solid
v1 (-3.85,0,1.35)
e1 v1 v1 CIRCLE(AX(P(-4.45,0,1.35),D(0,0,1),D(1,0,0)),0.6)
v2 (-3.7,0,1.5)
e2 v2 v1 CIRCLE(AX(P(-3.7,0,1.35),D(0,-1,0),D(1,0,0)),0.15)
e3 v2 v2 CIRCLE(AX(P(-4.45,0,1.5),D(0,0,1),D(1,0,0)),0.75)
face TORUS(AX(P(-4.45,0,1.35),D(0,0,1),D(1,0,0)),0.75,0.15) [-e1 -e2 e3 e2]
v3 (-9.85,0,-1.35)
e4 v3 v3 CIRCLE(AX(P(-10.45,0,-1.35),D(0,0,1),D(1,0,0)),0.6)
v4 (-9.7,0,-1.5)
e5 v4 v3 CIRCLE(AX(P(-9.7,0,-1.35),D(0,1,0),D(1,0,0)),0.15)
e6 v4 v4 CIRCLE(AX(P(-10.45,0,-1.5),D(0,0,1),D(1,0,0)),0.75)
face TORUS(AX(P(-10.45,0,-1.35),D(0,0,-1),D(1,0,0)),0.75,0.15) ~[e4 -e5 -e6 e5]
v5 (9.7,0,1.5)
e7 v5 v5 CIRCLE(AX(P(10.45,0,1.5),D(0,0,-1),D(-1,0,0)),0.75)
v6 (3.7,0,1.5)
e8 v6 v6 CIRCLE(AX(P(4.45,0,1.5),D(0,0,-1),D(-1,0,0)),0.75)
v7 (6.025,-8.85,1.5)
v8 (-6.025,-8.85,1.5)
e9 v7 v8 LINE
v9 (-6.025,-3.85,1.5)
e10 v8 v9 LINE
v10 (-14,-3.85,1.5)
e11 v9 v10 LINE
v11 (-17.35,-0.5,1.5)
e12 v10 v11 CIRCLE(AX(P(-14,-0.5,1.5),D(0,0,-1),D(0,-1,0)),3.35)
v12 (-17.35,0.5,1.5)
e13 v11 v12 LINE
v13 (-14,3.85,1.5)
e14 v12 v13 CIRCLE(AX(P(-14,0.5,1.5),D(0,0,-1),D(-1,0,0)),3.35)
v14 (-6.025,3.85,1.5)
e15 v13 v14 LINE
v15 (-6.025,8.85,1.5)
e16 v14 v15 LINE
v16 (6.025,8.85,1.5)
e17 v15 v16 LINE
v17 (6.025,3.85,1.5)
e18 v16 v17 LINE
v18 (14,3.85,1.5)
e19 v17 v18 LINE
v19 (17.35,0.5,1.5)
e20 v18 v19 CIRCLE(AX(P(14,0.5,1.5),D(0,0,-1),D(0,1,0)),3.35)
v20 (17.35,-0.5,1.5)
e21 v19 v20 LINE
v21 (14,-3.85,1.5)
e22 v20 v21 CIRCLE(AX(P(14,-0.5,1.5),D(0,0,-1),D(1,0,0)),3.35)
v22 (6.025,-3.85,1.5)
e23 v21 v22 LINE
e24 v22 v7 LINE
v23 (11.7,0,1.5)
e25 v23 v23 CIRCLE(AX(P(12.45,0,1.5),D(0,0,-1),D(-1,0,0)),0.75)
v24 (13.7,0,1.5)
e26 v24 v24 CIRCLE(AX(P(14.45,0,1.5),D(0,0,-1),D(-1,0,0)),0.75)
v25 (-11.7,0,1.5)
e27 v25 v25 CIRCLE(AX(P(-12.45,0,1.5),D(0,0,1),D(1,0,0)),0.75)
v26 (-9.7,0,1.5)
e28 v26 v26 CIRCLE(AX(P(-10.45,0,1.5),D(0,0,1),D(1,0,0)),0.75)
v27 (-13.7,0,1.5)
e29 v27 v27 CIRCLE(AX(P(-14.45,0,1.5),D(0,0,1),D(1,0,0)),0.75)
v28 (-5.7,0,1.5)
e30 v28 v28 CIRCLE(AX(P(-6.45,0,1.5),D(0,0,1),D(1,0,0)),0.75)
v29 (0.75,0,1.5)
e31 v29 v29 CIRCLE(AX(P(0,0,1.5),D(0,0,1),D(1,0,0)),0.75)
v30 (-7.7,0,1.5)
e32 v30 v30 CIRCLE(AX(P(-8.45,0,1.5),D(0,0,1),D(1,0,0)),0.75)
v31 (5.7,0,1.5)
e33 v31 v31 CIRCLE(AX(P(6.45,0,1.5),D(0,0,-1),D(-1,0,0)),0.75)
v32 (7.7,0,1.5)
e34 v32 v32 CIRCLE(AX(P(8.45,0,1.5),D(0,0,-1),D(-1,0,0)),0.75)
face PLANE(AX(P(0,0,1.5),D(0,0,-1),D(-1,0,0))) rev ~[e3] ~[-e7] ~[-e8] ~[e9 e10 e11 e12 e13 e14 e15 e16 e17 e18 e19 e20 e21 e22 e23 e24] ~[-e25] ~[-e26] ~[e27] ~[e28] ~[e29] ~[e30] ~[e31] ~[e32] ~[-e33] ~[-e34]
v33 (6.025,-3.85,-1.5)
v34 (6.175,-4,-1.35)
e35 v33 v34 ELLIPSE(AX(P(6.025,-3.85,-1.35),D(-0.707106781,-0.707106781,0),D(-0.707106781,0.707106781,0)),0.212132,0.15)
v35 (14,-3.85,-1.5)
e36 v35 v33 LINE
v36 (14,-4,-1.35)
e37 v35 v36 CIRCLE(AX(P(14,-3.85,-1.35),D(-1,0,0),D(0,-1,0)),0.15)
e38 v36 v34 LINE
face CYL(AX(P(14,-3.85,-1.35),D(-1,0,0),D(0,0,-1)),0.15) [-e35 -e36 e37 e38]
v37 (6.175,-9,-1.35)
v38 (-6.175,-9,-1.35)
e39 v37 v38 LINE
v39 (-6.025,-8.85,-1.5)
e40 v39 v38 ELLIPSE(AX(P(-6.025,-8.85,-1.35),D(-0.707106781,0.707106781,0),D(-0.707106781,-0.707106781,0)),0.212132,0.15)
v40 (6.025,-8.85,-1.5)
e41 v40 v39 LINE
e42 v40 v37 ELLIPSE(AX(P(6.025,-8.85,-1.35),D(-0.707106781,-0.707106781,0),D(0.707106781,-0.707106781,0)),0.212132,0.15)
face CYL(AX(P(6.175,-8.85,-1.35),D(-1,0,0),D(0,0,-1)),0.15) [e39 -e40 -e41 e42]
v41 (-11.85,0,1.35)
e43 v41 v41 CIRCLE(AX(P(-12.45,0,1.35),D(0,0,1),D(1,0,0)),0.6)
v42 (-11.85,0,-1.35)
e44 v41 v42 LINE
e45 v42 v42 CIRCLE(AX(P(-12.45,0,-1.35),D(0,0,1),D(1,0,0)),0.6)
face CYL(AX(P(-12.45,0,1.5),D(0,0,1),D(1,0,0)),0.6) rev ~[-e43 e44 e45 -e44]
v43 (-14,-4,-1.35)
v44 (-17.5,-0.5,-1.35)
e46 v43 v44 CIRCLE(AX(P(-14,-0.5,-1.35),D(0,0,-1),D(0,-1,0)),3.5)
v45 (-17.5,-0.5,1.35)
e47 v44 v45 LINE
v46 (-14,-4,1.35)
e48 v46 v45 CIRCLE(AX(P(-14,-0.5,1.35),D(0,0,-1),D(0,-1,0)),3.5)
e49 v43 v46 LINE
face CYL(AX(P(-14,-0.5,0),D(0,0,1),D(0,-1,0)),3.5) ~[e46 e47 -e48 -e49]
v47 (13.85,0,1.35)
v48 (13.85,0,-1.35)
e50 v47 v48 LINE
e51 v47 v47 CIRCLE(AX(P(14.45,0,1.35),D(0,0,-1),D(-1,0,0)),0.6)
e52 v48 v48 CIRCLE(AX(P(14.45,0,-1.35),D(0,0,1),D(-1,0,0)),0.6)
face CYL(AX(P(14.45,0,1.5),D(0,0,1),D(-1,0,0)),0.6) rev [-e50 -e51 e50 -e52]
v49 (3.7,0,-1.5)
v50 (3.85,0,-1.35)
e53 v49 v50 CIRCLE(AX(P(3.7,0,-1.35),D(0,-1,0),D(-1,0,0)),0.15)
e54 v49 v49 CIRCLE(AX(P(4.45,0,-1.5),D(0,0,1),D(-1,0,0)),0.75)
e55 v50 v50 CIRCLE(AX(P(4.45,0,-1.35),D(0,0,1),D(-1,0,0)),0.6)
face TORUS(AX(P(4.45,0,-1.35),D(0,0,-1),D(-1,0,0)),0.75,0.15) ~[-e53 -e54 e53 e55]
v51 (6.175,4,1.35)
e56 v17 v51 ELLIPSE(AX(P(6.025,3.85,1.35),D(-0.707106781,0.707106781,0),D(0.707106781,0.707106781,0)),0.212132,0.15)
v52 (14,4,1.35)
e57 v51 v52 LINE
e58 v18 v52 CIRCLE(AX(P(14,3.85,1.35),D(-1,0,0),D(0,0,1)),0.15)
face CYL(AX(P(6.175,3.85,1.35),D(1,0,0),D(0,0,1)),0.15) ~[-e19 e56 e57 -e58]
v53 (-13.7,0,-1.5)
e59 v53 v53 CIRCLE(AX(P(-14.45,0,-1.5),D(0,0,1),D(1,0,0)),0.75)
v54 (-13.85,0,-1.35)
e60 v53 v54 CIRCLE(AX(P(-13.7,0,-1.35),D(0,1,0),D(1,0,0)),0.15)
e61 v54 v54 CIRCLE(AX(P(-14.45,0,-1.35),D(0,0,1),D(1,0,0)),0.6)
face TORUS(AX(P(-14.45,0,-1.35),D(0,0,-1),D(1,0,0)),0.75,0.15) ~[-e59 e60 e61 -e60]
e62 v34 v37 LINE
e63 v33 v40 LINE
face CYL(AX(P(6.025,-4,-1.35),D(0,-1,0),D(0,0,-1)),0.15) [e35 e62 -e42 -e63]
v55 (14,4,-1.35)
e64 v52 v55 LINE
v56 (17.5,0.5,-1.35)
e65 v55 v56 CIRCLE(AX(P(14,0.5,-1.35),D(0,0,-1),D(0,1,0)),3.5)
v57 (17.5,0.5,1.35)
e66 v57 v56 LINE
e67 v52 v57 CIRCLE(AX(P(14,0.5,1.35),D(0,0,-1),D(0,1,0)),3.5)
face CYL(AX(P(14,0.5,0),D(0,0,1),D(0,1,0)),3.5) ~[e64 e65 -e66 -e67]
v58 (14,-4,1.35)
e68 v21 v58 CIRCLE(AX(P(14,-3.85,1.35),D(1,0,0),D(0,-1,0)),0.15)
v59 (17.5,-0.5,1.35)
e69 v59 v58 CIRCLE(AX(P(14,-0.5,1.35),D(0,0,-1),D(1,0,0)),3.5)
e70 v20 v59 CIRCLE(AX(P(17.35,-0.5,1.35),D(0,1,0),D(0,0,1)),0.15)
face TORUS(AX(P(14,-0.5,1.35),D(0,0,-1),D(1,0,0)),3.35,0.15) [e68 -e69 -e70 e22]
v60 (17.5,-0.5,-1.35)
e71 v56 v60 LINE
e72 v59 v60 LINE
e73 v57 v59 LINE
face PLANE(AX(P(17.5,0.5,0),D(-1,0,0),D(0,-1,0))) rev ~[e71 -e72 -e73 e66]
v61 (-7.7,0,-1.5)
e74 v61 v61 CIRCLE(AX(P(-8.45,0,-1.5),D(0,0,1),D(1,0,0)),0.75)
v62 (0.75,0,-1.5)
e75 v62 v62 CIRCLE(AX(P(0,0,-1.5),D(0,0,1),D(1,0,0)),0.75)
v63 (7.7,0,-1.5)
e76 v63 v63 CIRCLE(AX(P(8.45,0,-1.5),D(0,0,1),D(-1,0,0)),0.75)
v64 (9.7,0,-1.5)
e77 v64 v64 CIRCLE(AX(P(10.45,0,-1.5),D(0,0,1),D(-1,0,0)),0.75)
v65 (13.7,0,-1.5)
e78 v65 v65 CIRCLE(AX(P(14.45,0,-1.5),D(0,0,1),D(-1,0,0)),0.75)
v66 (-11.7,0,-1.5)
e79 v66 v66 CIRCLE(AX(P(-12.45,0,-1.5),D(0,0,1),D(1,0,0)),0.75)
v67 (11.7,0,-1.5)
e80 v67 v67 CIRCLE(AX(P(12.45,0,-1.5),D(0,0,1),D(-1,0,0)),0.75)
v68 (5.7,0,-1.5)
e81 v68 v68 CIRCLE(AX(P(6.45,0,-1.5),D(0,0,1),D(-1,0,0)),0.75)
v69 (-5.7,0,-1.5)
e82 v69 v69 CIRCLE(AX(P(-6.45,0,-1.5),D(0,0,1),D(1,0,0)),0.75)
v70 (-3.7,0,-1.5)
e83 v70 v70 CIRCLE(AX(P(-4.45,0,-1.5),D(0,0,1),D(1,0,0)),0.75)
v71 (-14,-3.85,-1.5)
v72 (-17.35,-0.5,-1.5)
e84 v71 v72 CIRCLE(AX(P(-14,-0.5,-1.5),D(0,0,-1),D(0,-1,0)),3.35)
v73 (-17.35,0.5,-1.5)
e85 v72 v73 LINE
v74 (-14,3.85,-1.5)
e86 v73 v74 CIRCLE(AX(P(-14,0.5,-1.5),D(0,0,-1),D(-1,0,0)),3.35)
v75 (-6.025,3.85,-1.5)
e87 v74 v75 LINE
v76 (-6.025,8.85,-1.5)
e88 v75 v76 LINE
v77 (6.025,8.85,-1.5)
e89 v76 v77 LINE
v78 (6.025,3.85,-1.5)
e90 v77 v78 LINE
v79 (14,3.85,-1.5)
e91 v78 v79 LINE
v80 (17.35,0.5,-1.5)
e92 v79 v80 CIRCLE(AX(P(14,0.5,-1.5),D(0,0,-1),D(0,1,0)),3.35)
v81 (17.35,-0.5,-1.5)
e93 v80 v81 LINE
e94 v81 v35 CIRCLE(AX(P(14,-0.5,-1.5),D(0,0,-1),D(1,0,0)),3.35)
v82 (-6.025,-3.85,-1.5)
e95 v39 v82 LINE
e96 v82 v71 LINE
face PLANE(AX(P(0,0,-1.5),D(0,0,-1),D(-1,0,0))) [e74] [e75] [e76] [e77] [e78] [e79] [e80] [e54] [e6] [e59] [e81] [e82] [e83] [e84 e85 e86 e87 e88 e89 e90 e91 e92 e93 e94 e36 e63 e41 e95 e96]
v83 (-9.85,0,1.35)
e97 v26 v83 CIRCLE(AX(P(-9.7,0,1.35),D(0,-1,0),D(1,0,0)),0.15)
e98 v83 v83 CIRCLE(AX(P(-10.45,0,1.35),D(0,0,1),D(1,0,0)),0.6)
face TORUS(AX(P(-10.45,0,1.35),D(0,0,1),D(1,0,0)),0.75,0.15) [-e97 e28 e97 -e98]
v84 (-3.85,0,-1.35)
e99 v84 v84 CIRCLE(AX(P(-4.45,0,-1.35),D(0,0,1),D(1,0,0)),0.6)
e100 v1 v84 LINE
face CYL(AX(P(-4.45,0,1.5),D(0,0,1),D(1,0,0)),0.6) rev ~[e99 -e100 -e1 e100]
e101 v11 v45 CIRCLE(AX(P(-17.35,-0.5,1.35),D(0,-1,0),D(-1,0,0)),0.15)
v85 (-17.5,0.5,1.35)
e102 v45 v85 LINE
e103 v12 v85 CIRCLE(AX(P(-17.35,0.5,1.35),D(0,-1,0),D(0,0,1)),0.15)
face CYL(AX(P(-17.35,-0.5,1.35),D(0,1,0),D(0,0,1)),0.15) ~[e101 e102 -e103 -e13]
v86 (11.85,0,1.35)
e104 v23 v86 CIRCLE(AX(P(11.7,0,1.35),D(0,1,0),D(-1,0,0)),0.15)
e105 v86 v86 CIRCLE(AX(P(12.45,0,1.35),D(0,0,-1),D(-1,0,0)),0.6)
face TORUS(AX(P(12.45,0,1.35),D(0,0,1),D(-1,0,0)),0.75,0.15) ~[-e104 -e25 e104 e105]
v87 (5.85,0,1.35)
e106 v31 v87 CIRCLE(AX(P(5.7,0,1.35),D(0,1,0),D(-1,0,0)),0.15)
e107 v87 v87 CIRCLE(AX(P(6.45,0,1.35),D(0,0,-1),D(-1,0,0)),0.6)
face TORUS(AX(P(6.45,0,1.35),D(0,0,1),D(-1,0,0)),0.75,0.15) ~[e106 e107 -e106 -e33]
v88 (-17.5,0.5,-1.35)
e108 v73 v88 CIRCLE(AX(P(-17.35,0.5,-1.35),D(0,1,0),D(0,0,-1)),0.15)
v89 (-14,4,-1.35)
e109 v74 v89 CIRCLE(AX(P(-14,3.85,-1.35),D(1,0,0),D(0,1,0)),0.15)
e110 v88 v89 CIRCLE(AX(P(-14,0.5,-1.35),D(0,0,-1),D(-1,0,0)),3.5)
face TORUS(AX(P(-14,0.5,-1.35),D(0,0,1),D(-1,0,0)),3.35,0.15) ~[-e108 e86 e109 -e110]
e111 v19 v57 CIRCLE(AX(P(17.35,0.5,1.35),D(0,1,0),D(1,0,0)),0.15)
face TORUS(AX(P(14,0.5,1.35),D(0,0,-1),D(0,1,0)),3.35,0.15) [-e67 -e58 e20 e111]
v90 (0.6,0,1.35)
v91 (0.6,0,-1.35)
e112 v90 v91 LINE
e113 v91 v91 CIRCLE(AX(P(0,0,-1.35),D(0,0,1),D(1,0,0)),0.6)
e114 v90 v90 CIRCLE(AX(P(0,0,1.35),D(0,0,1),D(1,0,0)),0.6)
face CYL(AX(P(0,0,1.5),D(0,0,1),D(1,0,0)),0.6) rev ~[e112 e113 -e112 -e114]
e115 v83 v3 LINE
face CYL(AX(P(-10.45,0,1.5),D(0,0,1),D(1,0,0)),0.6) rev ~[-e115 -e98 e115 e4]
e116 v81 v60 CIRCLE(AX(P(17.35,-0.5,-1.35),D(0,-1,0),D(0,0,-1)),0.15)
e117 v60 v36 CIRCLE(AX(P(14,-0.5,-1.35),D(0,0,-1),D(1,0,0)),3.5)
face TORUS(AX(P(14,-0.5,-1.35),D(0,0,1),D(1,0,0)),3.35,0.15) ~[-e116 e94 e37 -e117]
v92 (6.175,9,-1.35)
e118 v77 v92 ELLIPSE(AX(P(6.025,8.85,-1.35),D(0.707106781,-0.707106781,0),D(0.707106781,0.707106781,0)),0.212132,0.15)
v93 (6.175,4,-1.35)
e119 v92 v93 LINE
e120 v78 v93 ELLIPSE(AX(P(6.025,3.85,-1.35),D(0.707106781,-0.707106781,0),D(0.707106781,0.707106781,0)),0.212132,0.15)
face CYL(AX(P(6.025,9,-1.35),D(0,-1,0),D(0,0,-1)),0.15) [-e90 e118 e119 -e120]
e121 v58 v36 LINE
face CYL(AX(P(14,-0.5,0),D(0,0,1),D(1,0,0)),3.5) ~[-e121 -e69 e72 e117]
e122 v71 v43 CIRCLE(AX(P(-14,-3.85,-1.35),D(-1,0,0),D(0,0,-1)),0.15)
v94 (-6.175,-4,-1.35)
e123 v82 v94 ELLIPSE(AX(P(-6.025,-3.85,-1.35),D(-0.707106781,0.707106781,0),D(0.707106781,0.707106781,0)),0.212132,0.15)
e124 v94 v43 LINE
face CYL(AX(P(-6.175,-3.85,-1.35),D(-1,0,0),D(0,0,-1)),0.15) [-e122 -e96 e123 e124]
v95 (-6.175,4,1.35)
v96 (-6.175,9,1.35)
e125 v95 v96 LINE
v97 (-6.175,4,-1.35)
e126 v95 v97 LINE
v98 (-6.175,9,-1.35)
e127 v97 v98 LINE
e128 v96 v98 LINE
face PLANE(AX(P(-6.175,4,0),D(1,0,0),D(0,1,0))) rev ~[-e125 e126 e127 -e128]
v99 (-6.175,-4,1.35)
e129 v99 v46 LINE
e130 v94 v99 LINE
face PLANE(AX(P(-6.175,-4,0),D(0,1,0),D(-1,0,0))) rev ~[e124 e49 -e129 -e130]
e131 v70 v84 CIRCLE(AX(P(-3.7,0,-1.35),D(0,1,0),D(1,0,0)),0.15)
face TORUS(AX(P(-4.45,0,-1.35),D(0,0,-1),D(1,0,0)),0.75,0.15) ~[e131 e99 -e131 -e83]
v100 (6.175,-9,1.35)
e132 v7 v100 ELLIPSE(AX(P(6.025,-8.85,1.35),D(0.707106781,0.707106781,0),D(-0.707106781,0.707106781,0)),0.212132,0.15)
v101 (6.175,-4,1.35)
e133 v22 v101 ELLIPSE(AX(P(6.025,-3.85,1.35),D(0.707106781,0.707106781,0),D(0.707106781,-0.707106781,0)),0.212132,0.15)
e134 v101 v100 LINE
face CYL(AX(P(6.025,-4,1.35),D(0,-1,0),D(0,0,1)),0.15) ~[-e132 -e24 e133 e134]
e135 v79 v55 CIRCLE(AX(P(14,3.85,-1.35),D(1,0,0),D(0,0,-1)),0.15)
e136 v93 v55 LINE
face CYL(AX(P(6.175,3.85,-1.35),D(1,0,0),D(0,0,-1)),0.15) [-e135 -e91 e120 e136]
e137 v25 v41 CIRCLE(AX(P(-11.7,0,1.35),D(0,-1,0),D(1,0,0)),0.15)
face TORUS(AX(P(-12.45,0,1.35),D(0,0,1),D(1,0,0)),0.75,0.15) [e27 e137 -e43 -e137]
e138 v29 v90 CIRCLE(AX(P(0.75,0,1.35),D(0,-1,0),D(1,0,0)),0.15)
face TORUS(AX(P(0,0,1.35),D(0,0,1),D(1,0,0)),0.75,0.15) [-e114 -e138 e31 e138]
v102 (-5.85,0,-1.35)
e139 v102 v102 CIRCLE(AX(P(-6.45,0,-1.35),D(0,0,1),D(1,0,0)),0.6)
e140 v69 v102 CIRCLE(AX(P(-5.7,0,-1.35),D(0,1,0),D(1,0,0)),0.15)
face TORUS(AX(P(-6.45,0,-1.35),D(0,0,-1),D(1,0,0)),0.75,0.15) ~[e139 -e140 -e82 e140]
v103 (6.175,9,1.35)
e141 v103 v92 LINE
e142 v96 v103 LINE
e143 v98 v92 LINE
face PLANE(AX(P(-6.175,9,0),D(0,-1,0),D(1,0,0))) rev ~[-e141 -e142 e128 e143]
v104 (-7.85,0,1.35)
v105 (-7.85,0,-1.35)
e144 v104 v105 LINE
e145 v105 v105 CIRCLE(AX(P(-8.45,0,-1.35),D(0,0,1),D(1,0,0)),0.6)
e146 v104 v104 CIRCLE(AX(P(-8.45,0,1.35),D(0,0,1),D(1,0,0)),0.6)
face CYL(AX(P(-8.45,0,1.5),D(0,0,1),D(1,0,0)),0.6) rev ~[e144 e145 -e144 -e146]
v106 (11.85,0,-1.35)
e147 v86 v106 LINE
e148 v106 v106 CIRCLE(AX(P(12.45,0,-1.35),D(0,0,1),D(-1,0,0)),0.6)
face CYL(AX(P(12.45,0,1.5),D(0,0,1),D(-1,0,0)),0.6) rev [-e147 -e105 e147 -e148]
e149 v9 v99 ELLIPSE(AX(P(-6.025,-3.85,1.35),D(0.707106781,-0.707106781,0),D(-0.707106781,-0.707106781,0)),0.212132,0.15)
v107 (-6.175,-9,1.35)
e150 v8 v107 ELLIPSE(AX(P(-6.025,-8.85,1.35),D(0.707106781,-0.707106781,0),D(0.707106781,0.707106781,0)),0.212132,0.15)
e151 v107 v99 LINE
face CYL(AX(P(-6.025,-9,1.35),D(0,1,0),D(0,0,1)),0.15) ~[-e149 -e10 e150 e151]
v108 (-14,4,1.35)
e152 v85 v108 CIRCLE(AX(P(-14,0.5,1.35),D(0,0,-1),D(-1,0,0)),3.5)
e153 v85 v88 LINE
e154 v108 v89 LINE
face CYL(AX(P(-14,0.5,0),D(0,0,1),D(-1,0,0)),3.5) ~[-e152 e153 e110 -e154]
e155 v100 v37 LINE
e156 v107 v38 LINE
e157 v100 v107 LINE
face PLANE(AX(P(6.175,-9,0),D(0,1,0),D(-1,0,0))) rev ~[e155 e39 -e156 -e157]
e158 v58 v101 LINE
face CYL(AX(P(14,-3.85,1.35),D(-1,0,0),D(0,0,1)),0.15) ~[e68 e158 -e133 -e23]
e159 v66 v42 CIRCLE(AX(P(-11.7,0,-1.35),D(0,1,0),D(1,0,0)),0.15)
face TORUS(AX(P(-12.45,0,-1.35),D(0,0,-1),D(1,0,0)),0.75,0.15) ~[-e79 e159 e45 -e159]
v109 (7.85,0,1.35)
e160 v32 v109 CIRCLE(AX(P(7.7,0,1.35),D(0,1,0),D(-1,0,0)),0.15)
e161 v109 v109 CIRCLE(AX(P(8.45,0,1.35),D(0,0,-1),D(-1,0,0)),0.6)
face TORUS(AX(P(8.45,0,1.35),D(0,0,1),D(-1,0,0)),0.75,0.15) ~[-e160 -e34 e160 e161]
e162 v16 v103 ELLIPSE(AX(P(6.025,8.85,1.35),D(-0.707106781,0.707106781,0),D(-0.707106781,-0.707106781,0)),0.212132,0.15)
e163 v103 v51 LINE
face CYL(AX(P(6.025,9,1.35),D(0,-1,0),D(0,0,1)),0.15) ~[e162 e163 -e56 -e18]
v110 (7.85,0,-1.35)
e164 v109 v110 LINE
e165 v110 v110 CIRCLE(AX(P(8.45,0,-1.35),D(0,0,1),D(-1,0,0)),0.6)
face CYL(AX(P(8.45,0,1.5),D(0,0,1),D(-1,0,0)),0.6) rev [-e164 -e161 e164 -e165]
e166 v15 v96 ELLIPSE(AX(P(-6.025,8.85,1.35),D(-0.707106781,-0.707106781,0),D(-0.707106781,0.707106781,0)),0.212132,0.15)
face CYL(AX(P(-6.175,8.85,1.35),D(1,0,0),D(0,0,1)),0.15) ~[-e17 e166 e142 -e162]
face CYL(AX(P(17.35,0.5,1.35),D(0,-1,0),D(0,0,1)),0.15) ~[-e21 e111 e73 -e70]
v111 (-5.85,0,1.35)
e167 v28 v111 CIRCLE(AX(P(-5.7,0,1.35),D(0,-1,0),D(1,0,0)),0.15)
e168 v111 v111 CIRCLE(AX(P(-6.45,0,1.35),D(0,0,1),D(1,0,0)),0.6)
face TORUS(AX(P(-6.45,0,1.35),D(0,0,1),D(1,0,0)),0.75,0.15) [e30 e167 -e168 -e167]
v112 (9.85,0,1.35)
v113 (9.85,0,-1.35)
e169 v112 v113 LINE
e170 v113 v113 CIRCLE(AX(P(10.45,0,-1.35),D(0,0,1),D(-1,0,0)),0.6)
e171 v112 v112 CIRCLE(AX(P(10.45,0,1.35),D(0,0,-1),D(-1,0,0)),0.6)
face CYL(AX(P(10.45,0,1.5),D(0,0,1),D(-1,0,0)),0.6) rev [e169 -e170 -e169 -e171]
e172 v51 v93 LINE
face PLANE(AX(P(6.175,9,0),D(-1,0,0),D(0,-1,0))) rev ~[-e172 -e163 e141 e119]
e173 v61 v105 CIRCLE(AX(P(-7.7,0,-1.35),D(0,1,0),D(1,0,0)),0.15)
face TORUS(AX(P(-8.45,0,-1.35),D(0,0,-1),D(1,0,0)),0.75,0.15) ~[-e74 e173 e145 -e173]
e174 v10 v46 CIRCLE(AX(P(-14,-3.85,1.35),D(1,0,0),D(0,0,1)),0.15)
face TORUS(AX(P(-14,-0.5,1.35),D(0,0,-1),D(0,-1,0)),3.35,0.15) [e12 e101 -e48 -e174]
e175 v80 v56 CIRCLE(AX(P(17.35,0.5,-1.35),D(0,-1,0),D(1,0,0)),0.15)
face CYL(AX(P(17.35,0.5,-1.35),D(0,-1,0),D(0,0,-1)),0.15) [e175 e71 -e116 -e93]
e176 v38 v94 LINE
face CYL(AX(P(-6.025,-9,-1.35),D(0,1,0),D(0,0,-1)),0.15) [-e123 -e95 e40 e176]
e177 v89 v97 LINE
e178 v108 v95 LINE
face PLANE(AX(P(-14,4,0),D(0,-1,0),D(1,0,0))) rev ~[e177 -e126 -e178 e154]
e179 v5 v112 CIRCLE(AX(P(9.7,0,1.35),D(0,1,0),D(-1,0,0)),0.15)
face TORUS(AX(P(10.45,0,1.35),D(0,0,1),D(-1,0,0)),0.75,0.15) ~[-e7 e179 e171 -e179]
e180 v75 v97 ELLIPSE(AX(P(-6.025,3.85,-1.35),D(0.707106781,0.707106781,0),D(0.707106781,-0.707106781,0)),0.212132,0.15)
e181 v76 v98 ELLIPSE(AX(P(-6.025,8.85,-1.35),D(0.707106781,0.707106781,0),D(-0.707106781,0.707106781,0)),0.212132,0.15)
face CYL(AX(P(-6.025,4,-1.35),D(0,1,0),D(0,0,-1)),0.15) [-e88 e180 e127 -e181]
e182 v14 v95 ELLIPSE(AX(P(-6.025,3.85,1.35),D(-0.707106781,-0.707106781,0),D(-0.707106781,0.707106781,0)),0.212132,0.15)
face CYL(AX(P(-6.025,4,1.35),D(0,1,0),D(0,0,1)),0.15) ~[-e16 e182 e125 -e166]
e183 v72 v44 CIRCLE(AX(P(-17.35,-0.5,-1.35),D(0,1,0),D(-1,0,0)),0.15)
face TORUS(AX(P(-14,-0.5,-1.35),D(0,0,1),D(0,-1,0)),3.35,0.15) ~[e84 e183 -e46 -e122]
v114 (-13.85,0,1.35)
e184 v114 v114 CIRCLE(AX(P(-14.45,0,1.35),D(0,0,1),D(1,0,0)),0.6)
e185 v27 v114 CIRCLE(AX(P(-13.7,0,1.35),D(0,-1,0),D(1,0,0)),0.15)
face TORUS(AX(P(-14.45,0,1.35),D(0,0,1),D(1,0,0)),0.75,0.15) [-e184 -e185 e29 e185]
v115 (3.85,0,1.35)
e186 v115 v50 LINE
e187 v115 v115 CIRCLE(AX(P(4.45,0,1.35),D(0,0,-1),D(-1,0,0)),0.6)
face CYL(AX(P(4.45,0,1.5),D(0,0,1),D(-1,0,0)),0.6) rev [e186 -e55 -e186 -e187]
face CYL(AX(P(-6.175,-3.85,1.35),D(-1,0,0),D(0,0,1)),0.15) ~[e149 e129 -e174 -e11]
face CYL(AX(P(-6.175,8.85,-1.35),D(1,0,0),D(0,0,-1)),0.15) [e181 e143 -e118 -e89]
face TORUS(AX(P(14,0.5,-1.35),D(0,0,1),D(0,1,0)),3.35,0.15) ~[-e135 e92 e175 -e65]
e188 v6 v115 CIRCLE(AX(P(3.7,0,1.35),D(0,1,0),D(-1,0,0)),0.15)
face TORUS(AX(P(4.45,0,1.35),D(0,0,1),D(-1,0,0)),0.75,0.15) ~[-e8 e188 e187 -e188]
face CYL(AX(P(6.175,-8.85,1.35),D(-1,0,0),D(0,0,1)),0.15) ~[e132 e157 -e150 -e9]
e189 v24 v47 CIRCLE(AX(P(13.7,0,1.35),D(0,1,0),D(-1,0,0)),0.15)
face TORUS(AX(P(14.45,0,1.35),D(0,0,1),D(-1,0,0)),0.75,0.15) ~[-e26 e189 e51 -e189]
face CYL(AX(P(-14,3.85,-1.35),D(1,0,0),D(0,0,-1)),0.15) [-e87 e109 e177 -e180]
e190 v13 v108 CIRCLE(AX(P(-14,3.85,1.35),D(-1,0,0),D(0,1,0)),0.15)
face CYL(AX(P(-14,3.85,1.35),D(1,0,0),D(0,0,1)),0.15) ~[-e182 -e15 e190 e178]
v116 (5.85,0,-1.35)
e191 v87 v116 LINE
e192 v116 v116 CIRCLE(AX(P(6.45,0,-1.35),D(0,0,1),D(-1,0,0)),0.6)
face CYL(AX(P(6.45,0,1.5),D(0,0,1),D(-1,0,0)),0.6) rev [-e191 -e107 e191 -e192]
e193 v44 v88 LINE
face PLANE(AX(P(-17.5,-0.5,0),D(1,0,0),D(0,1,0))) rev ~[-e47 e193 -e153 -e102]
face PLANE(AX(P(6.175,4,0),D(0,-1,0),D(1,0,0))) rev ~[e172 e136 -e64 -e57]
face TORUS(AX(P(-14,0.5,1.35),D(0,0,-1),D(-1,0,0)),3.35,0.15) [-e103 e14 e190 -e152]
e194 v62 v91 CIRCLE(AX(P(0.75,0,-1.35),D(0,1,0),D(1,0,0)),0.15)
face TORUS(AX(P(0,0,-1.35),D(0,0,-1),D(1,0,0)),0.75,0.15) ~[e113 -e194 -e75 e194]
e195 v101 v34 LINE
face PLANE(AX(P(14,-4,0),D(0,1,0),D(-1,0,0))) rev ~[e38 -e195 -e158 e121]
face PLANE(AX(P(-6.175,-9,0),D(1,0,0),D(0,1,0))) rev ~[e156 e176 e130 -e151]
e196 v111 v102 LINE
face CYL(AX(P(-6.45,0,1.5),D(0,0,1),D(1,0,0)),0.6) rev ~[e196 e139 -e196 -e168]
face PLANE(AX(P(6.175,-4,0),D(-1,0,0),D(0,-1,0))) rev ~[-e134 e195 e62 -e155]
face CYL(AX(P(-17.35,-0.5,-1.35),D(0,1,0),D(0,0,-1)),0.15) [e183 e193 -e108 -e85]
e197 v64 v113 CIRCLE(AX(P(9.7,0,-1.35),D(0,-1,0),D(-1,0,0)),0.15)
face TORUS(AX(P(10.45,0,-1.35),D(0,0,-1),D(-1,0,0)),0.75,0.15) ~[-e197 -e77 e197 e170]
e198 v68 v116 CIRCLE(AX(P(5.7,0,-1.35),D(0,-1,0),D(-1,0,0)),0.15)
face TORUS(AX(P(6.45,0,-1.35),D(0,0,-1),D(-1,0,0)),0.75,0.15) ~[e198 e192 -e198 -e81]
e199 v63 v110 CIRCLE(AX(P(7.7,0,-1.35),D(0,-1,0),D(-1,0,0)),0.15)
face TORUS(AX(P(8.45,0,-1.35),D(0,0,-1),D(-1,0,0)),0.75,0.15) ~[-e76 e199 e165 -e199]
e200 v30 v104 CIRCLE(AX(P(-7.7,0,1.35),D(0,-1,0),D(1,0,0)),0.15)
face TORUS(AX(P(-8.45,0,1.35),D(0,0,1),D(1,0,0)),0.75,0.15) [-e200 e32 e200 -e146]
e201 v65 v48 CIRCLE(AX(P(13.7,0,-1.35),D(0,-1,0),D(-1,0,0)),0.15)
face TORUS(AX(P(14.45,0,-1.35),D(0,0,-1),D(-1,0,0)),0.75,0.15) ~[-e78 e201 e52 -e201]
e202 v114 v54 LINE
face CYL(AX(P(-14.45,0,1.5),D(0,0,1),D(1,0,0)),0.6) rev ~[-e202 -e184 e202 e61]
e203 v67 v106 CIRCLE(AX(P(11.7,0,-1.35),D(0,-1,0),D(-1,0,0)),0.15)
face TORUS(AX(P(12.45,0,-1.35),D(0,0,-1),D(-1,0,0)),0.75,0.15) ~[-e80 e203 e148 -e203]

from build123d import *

# Parameters (mm, degrees)
DODANIE_WYCI_GNI_CIE1_DEPTH = 1.5
SZKIC2_R                    = 0.6
WYTNIJ_WYCI_GNI_CIE1_DEPTH  = 4
SZKIC3_R                    = 0.6
WYTNIJ_WYCI_GNI_CIE2_DEPTH  = 4
ZAOKR_GLENIE1_R             = 0.15


with BuildPart() as part:
    # Szkic1 → Dodanie-wyciągnięcie1 (new body, symmetric)
    with BuildSketch(Plane.XY):
        with BuildLine():
            Line((-17.5, -0.5), (-17.5, 0.5))
            ThreePointArc((-17.5, 0.5), (-16.474873734, 2.974873734), (-14, 4))
            Line((-14, 4), (-6.175, 4))
            Line((-6.175, 4), (-6.175, 9))
            Line((-6.175, 9), (6.175, 9))
            Line((6.175, 9), (6.175, 4))
            Line((6.175, 4), (14, 4))
            ThreePointArc((14, 4), (16.474873734, 2.974873734), (17.5, 0.5))
            Line((17.5, 0.5), (17.5, -0.5))
            ThreePointArc((17.5, -0.5), (16.474873734, -2.974873734), (14, -4))
            Line((14, -4), (6.175, -4))
            Line((6.175, -4), (6.175, -9))
            Line((6.175, -9), (-6.175, -9))
            Line((-6.175, -9), (-6.175, -4))
            Line((-6.175, -4), (-14, -4))
            ThreePointArc((-14, -4), (-16.474873734, -2.974873734), (-17.5, -0.5))
        make_face()
    extrude(amount=DODANIE_WYCI_GNI_CIE1_DEPTH, both=True)

    # Szkic2 → Wytnij-wyciągnięcie1 (cut, through all)
    with BuildSketch(Plane.XY.offset(1.5)):
        Circle(SZKIC2_R)
    extrude(amount=-WYTNIJ_WYCI_GNI_CIE1_DEPTH, mode=Mode.SUBTRACT)

    # Szkic3 → Wytnij-wyciągnięcie2 (cut, through all)
    with BuildSketch(Plane.XY.offset(1.5)):
        with Locations((-4.45, 0)):
            Circle(SZKIC3_R)
        with Locations((-6.45, 0)):
            Circle(SZKIC3_R)
        with Locations((-8.45, 0)):
            Circle(SZKIC3_R)
        with Locations((-10.45, 0)):
            Circle(SZKIC3_R)
        with Locations((-12.45, 0)):
            Circle(SZKIC3_R)
        with Locations((-14.45, 0)):
            Circle(SZKIC3_R)
    wytnij_wyci_gni_cie2 = extrude(amount=-WYTNIJ_WYCI_GNI_CIE2_DEPTH, mode=Mode.SUBTRACT)

    # Lustro1: Wytnij-wyciągnięcie2 across plane
    add(wytnij_wyci_gni_cie2.mirror(Plane(origin=(0, 0, 0), x_dir=(0, 0, 1), z_dir=(1, 0, 0))), mode=Mode.SUBTRACT)

    # Zaokrąglenie1
    zaokr_glenie1_edges = [part.edges().sort_by_distance(p)[0] for p in [
        (-6.175, 6.5, 1.5),
        (-10.0875, 4, 1.5),
        (10.0875, 4, -1.5),
        (16.474873734, 2.974873734, -1.5),
        (17.5, 0, -1.5),
        (16.474873734, -2.974873734, -1.5),
        (10.0875, -4, -1.5),
        (-16.474873734, 2.974873734, 1.5),
        (6.175, -6.5, -1.5),
        (0, -9, -1.5),
        (-6.175, -6.5, -1.5),
        (-10.0875, -4, -1.5),
        (-16.474873734, -2.974873734, -1.5),
        (-17.5, 0, -1.5),
        (-16.474873734, 2.974873734, -1.5),
        (-10.0875, 4, -1.5),
        (-17.5, 0, 1.5),
        (-6.175, 6.5, -1.5),
        (0, 9, -1.5),
        (6.175, 6.5, -1.5),
        (-16.474873734, -2.974873734, 1.5),
        (-10.0875, -4, 1.5),
        (-6.175, -6.5, 1.5),
        (0, -9, 1.5),
        (6.175, -6.5, 1.5),
        (10.0875, -4, 1.5),
        (6.175, 6.5, 1.5),
        (16.474873734, -2.974873734, 1.5),
        (17.5, 0, 1.5),
        (16.474873734, 2.974873734, 1.5),
        (-0.6, 0, -1.5),
        (-0.6, 0, 1.5),
        (10.0875, 4, 1.5),
        (-5.05, 0, -1.5),
        (-5.05, 0, 1.5),
        (-7.05, 0, -1.5),
        (-7.05, 0, 1.5),
        (-9.05, 0, -1.5),
        (-9.05, 0, 1.5),
        (-11.05, 0, -1.5),
        (-11.05, 0, 1.5),
        (-13.05, 0, -1.5),
        (-13.05, 0, 1.5),
        (-15.05, 0, -1.5),
        (-15.05, 0, 1.5),
        (0, 9, 1.5),
        (5.05, 0, 1.5),
        (5.05, 0, -1.5),
        (7.05, 0, 1.5),
        (7.05, 0, -1.5),
        (9.05, 0, 1.5),
        (9.05, 0, -1.5),
        (11.05, 0, 1.5),
        (11.05, 0, -1.5),
        (13.05, 0, 1.5),
        (13.05, 0, -1.5),
        (15.05, 0, 1.5),
        (15.05, 0, -1.5),
    ]]
    fillet(zaokr_glenie1_edges, radius=ZAOKR_GLENIE1_R)


solid = part.part
